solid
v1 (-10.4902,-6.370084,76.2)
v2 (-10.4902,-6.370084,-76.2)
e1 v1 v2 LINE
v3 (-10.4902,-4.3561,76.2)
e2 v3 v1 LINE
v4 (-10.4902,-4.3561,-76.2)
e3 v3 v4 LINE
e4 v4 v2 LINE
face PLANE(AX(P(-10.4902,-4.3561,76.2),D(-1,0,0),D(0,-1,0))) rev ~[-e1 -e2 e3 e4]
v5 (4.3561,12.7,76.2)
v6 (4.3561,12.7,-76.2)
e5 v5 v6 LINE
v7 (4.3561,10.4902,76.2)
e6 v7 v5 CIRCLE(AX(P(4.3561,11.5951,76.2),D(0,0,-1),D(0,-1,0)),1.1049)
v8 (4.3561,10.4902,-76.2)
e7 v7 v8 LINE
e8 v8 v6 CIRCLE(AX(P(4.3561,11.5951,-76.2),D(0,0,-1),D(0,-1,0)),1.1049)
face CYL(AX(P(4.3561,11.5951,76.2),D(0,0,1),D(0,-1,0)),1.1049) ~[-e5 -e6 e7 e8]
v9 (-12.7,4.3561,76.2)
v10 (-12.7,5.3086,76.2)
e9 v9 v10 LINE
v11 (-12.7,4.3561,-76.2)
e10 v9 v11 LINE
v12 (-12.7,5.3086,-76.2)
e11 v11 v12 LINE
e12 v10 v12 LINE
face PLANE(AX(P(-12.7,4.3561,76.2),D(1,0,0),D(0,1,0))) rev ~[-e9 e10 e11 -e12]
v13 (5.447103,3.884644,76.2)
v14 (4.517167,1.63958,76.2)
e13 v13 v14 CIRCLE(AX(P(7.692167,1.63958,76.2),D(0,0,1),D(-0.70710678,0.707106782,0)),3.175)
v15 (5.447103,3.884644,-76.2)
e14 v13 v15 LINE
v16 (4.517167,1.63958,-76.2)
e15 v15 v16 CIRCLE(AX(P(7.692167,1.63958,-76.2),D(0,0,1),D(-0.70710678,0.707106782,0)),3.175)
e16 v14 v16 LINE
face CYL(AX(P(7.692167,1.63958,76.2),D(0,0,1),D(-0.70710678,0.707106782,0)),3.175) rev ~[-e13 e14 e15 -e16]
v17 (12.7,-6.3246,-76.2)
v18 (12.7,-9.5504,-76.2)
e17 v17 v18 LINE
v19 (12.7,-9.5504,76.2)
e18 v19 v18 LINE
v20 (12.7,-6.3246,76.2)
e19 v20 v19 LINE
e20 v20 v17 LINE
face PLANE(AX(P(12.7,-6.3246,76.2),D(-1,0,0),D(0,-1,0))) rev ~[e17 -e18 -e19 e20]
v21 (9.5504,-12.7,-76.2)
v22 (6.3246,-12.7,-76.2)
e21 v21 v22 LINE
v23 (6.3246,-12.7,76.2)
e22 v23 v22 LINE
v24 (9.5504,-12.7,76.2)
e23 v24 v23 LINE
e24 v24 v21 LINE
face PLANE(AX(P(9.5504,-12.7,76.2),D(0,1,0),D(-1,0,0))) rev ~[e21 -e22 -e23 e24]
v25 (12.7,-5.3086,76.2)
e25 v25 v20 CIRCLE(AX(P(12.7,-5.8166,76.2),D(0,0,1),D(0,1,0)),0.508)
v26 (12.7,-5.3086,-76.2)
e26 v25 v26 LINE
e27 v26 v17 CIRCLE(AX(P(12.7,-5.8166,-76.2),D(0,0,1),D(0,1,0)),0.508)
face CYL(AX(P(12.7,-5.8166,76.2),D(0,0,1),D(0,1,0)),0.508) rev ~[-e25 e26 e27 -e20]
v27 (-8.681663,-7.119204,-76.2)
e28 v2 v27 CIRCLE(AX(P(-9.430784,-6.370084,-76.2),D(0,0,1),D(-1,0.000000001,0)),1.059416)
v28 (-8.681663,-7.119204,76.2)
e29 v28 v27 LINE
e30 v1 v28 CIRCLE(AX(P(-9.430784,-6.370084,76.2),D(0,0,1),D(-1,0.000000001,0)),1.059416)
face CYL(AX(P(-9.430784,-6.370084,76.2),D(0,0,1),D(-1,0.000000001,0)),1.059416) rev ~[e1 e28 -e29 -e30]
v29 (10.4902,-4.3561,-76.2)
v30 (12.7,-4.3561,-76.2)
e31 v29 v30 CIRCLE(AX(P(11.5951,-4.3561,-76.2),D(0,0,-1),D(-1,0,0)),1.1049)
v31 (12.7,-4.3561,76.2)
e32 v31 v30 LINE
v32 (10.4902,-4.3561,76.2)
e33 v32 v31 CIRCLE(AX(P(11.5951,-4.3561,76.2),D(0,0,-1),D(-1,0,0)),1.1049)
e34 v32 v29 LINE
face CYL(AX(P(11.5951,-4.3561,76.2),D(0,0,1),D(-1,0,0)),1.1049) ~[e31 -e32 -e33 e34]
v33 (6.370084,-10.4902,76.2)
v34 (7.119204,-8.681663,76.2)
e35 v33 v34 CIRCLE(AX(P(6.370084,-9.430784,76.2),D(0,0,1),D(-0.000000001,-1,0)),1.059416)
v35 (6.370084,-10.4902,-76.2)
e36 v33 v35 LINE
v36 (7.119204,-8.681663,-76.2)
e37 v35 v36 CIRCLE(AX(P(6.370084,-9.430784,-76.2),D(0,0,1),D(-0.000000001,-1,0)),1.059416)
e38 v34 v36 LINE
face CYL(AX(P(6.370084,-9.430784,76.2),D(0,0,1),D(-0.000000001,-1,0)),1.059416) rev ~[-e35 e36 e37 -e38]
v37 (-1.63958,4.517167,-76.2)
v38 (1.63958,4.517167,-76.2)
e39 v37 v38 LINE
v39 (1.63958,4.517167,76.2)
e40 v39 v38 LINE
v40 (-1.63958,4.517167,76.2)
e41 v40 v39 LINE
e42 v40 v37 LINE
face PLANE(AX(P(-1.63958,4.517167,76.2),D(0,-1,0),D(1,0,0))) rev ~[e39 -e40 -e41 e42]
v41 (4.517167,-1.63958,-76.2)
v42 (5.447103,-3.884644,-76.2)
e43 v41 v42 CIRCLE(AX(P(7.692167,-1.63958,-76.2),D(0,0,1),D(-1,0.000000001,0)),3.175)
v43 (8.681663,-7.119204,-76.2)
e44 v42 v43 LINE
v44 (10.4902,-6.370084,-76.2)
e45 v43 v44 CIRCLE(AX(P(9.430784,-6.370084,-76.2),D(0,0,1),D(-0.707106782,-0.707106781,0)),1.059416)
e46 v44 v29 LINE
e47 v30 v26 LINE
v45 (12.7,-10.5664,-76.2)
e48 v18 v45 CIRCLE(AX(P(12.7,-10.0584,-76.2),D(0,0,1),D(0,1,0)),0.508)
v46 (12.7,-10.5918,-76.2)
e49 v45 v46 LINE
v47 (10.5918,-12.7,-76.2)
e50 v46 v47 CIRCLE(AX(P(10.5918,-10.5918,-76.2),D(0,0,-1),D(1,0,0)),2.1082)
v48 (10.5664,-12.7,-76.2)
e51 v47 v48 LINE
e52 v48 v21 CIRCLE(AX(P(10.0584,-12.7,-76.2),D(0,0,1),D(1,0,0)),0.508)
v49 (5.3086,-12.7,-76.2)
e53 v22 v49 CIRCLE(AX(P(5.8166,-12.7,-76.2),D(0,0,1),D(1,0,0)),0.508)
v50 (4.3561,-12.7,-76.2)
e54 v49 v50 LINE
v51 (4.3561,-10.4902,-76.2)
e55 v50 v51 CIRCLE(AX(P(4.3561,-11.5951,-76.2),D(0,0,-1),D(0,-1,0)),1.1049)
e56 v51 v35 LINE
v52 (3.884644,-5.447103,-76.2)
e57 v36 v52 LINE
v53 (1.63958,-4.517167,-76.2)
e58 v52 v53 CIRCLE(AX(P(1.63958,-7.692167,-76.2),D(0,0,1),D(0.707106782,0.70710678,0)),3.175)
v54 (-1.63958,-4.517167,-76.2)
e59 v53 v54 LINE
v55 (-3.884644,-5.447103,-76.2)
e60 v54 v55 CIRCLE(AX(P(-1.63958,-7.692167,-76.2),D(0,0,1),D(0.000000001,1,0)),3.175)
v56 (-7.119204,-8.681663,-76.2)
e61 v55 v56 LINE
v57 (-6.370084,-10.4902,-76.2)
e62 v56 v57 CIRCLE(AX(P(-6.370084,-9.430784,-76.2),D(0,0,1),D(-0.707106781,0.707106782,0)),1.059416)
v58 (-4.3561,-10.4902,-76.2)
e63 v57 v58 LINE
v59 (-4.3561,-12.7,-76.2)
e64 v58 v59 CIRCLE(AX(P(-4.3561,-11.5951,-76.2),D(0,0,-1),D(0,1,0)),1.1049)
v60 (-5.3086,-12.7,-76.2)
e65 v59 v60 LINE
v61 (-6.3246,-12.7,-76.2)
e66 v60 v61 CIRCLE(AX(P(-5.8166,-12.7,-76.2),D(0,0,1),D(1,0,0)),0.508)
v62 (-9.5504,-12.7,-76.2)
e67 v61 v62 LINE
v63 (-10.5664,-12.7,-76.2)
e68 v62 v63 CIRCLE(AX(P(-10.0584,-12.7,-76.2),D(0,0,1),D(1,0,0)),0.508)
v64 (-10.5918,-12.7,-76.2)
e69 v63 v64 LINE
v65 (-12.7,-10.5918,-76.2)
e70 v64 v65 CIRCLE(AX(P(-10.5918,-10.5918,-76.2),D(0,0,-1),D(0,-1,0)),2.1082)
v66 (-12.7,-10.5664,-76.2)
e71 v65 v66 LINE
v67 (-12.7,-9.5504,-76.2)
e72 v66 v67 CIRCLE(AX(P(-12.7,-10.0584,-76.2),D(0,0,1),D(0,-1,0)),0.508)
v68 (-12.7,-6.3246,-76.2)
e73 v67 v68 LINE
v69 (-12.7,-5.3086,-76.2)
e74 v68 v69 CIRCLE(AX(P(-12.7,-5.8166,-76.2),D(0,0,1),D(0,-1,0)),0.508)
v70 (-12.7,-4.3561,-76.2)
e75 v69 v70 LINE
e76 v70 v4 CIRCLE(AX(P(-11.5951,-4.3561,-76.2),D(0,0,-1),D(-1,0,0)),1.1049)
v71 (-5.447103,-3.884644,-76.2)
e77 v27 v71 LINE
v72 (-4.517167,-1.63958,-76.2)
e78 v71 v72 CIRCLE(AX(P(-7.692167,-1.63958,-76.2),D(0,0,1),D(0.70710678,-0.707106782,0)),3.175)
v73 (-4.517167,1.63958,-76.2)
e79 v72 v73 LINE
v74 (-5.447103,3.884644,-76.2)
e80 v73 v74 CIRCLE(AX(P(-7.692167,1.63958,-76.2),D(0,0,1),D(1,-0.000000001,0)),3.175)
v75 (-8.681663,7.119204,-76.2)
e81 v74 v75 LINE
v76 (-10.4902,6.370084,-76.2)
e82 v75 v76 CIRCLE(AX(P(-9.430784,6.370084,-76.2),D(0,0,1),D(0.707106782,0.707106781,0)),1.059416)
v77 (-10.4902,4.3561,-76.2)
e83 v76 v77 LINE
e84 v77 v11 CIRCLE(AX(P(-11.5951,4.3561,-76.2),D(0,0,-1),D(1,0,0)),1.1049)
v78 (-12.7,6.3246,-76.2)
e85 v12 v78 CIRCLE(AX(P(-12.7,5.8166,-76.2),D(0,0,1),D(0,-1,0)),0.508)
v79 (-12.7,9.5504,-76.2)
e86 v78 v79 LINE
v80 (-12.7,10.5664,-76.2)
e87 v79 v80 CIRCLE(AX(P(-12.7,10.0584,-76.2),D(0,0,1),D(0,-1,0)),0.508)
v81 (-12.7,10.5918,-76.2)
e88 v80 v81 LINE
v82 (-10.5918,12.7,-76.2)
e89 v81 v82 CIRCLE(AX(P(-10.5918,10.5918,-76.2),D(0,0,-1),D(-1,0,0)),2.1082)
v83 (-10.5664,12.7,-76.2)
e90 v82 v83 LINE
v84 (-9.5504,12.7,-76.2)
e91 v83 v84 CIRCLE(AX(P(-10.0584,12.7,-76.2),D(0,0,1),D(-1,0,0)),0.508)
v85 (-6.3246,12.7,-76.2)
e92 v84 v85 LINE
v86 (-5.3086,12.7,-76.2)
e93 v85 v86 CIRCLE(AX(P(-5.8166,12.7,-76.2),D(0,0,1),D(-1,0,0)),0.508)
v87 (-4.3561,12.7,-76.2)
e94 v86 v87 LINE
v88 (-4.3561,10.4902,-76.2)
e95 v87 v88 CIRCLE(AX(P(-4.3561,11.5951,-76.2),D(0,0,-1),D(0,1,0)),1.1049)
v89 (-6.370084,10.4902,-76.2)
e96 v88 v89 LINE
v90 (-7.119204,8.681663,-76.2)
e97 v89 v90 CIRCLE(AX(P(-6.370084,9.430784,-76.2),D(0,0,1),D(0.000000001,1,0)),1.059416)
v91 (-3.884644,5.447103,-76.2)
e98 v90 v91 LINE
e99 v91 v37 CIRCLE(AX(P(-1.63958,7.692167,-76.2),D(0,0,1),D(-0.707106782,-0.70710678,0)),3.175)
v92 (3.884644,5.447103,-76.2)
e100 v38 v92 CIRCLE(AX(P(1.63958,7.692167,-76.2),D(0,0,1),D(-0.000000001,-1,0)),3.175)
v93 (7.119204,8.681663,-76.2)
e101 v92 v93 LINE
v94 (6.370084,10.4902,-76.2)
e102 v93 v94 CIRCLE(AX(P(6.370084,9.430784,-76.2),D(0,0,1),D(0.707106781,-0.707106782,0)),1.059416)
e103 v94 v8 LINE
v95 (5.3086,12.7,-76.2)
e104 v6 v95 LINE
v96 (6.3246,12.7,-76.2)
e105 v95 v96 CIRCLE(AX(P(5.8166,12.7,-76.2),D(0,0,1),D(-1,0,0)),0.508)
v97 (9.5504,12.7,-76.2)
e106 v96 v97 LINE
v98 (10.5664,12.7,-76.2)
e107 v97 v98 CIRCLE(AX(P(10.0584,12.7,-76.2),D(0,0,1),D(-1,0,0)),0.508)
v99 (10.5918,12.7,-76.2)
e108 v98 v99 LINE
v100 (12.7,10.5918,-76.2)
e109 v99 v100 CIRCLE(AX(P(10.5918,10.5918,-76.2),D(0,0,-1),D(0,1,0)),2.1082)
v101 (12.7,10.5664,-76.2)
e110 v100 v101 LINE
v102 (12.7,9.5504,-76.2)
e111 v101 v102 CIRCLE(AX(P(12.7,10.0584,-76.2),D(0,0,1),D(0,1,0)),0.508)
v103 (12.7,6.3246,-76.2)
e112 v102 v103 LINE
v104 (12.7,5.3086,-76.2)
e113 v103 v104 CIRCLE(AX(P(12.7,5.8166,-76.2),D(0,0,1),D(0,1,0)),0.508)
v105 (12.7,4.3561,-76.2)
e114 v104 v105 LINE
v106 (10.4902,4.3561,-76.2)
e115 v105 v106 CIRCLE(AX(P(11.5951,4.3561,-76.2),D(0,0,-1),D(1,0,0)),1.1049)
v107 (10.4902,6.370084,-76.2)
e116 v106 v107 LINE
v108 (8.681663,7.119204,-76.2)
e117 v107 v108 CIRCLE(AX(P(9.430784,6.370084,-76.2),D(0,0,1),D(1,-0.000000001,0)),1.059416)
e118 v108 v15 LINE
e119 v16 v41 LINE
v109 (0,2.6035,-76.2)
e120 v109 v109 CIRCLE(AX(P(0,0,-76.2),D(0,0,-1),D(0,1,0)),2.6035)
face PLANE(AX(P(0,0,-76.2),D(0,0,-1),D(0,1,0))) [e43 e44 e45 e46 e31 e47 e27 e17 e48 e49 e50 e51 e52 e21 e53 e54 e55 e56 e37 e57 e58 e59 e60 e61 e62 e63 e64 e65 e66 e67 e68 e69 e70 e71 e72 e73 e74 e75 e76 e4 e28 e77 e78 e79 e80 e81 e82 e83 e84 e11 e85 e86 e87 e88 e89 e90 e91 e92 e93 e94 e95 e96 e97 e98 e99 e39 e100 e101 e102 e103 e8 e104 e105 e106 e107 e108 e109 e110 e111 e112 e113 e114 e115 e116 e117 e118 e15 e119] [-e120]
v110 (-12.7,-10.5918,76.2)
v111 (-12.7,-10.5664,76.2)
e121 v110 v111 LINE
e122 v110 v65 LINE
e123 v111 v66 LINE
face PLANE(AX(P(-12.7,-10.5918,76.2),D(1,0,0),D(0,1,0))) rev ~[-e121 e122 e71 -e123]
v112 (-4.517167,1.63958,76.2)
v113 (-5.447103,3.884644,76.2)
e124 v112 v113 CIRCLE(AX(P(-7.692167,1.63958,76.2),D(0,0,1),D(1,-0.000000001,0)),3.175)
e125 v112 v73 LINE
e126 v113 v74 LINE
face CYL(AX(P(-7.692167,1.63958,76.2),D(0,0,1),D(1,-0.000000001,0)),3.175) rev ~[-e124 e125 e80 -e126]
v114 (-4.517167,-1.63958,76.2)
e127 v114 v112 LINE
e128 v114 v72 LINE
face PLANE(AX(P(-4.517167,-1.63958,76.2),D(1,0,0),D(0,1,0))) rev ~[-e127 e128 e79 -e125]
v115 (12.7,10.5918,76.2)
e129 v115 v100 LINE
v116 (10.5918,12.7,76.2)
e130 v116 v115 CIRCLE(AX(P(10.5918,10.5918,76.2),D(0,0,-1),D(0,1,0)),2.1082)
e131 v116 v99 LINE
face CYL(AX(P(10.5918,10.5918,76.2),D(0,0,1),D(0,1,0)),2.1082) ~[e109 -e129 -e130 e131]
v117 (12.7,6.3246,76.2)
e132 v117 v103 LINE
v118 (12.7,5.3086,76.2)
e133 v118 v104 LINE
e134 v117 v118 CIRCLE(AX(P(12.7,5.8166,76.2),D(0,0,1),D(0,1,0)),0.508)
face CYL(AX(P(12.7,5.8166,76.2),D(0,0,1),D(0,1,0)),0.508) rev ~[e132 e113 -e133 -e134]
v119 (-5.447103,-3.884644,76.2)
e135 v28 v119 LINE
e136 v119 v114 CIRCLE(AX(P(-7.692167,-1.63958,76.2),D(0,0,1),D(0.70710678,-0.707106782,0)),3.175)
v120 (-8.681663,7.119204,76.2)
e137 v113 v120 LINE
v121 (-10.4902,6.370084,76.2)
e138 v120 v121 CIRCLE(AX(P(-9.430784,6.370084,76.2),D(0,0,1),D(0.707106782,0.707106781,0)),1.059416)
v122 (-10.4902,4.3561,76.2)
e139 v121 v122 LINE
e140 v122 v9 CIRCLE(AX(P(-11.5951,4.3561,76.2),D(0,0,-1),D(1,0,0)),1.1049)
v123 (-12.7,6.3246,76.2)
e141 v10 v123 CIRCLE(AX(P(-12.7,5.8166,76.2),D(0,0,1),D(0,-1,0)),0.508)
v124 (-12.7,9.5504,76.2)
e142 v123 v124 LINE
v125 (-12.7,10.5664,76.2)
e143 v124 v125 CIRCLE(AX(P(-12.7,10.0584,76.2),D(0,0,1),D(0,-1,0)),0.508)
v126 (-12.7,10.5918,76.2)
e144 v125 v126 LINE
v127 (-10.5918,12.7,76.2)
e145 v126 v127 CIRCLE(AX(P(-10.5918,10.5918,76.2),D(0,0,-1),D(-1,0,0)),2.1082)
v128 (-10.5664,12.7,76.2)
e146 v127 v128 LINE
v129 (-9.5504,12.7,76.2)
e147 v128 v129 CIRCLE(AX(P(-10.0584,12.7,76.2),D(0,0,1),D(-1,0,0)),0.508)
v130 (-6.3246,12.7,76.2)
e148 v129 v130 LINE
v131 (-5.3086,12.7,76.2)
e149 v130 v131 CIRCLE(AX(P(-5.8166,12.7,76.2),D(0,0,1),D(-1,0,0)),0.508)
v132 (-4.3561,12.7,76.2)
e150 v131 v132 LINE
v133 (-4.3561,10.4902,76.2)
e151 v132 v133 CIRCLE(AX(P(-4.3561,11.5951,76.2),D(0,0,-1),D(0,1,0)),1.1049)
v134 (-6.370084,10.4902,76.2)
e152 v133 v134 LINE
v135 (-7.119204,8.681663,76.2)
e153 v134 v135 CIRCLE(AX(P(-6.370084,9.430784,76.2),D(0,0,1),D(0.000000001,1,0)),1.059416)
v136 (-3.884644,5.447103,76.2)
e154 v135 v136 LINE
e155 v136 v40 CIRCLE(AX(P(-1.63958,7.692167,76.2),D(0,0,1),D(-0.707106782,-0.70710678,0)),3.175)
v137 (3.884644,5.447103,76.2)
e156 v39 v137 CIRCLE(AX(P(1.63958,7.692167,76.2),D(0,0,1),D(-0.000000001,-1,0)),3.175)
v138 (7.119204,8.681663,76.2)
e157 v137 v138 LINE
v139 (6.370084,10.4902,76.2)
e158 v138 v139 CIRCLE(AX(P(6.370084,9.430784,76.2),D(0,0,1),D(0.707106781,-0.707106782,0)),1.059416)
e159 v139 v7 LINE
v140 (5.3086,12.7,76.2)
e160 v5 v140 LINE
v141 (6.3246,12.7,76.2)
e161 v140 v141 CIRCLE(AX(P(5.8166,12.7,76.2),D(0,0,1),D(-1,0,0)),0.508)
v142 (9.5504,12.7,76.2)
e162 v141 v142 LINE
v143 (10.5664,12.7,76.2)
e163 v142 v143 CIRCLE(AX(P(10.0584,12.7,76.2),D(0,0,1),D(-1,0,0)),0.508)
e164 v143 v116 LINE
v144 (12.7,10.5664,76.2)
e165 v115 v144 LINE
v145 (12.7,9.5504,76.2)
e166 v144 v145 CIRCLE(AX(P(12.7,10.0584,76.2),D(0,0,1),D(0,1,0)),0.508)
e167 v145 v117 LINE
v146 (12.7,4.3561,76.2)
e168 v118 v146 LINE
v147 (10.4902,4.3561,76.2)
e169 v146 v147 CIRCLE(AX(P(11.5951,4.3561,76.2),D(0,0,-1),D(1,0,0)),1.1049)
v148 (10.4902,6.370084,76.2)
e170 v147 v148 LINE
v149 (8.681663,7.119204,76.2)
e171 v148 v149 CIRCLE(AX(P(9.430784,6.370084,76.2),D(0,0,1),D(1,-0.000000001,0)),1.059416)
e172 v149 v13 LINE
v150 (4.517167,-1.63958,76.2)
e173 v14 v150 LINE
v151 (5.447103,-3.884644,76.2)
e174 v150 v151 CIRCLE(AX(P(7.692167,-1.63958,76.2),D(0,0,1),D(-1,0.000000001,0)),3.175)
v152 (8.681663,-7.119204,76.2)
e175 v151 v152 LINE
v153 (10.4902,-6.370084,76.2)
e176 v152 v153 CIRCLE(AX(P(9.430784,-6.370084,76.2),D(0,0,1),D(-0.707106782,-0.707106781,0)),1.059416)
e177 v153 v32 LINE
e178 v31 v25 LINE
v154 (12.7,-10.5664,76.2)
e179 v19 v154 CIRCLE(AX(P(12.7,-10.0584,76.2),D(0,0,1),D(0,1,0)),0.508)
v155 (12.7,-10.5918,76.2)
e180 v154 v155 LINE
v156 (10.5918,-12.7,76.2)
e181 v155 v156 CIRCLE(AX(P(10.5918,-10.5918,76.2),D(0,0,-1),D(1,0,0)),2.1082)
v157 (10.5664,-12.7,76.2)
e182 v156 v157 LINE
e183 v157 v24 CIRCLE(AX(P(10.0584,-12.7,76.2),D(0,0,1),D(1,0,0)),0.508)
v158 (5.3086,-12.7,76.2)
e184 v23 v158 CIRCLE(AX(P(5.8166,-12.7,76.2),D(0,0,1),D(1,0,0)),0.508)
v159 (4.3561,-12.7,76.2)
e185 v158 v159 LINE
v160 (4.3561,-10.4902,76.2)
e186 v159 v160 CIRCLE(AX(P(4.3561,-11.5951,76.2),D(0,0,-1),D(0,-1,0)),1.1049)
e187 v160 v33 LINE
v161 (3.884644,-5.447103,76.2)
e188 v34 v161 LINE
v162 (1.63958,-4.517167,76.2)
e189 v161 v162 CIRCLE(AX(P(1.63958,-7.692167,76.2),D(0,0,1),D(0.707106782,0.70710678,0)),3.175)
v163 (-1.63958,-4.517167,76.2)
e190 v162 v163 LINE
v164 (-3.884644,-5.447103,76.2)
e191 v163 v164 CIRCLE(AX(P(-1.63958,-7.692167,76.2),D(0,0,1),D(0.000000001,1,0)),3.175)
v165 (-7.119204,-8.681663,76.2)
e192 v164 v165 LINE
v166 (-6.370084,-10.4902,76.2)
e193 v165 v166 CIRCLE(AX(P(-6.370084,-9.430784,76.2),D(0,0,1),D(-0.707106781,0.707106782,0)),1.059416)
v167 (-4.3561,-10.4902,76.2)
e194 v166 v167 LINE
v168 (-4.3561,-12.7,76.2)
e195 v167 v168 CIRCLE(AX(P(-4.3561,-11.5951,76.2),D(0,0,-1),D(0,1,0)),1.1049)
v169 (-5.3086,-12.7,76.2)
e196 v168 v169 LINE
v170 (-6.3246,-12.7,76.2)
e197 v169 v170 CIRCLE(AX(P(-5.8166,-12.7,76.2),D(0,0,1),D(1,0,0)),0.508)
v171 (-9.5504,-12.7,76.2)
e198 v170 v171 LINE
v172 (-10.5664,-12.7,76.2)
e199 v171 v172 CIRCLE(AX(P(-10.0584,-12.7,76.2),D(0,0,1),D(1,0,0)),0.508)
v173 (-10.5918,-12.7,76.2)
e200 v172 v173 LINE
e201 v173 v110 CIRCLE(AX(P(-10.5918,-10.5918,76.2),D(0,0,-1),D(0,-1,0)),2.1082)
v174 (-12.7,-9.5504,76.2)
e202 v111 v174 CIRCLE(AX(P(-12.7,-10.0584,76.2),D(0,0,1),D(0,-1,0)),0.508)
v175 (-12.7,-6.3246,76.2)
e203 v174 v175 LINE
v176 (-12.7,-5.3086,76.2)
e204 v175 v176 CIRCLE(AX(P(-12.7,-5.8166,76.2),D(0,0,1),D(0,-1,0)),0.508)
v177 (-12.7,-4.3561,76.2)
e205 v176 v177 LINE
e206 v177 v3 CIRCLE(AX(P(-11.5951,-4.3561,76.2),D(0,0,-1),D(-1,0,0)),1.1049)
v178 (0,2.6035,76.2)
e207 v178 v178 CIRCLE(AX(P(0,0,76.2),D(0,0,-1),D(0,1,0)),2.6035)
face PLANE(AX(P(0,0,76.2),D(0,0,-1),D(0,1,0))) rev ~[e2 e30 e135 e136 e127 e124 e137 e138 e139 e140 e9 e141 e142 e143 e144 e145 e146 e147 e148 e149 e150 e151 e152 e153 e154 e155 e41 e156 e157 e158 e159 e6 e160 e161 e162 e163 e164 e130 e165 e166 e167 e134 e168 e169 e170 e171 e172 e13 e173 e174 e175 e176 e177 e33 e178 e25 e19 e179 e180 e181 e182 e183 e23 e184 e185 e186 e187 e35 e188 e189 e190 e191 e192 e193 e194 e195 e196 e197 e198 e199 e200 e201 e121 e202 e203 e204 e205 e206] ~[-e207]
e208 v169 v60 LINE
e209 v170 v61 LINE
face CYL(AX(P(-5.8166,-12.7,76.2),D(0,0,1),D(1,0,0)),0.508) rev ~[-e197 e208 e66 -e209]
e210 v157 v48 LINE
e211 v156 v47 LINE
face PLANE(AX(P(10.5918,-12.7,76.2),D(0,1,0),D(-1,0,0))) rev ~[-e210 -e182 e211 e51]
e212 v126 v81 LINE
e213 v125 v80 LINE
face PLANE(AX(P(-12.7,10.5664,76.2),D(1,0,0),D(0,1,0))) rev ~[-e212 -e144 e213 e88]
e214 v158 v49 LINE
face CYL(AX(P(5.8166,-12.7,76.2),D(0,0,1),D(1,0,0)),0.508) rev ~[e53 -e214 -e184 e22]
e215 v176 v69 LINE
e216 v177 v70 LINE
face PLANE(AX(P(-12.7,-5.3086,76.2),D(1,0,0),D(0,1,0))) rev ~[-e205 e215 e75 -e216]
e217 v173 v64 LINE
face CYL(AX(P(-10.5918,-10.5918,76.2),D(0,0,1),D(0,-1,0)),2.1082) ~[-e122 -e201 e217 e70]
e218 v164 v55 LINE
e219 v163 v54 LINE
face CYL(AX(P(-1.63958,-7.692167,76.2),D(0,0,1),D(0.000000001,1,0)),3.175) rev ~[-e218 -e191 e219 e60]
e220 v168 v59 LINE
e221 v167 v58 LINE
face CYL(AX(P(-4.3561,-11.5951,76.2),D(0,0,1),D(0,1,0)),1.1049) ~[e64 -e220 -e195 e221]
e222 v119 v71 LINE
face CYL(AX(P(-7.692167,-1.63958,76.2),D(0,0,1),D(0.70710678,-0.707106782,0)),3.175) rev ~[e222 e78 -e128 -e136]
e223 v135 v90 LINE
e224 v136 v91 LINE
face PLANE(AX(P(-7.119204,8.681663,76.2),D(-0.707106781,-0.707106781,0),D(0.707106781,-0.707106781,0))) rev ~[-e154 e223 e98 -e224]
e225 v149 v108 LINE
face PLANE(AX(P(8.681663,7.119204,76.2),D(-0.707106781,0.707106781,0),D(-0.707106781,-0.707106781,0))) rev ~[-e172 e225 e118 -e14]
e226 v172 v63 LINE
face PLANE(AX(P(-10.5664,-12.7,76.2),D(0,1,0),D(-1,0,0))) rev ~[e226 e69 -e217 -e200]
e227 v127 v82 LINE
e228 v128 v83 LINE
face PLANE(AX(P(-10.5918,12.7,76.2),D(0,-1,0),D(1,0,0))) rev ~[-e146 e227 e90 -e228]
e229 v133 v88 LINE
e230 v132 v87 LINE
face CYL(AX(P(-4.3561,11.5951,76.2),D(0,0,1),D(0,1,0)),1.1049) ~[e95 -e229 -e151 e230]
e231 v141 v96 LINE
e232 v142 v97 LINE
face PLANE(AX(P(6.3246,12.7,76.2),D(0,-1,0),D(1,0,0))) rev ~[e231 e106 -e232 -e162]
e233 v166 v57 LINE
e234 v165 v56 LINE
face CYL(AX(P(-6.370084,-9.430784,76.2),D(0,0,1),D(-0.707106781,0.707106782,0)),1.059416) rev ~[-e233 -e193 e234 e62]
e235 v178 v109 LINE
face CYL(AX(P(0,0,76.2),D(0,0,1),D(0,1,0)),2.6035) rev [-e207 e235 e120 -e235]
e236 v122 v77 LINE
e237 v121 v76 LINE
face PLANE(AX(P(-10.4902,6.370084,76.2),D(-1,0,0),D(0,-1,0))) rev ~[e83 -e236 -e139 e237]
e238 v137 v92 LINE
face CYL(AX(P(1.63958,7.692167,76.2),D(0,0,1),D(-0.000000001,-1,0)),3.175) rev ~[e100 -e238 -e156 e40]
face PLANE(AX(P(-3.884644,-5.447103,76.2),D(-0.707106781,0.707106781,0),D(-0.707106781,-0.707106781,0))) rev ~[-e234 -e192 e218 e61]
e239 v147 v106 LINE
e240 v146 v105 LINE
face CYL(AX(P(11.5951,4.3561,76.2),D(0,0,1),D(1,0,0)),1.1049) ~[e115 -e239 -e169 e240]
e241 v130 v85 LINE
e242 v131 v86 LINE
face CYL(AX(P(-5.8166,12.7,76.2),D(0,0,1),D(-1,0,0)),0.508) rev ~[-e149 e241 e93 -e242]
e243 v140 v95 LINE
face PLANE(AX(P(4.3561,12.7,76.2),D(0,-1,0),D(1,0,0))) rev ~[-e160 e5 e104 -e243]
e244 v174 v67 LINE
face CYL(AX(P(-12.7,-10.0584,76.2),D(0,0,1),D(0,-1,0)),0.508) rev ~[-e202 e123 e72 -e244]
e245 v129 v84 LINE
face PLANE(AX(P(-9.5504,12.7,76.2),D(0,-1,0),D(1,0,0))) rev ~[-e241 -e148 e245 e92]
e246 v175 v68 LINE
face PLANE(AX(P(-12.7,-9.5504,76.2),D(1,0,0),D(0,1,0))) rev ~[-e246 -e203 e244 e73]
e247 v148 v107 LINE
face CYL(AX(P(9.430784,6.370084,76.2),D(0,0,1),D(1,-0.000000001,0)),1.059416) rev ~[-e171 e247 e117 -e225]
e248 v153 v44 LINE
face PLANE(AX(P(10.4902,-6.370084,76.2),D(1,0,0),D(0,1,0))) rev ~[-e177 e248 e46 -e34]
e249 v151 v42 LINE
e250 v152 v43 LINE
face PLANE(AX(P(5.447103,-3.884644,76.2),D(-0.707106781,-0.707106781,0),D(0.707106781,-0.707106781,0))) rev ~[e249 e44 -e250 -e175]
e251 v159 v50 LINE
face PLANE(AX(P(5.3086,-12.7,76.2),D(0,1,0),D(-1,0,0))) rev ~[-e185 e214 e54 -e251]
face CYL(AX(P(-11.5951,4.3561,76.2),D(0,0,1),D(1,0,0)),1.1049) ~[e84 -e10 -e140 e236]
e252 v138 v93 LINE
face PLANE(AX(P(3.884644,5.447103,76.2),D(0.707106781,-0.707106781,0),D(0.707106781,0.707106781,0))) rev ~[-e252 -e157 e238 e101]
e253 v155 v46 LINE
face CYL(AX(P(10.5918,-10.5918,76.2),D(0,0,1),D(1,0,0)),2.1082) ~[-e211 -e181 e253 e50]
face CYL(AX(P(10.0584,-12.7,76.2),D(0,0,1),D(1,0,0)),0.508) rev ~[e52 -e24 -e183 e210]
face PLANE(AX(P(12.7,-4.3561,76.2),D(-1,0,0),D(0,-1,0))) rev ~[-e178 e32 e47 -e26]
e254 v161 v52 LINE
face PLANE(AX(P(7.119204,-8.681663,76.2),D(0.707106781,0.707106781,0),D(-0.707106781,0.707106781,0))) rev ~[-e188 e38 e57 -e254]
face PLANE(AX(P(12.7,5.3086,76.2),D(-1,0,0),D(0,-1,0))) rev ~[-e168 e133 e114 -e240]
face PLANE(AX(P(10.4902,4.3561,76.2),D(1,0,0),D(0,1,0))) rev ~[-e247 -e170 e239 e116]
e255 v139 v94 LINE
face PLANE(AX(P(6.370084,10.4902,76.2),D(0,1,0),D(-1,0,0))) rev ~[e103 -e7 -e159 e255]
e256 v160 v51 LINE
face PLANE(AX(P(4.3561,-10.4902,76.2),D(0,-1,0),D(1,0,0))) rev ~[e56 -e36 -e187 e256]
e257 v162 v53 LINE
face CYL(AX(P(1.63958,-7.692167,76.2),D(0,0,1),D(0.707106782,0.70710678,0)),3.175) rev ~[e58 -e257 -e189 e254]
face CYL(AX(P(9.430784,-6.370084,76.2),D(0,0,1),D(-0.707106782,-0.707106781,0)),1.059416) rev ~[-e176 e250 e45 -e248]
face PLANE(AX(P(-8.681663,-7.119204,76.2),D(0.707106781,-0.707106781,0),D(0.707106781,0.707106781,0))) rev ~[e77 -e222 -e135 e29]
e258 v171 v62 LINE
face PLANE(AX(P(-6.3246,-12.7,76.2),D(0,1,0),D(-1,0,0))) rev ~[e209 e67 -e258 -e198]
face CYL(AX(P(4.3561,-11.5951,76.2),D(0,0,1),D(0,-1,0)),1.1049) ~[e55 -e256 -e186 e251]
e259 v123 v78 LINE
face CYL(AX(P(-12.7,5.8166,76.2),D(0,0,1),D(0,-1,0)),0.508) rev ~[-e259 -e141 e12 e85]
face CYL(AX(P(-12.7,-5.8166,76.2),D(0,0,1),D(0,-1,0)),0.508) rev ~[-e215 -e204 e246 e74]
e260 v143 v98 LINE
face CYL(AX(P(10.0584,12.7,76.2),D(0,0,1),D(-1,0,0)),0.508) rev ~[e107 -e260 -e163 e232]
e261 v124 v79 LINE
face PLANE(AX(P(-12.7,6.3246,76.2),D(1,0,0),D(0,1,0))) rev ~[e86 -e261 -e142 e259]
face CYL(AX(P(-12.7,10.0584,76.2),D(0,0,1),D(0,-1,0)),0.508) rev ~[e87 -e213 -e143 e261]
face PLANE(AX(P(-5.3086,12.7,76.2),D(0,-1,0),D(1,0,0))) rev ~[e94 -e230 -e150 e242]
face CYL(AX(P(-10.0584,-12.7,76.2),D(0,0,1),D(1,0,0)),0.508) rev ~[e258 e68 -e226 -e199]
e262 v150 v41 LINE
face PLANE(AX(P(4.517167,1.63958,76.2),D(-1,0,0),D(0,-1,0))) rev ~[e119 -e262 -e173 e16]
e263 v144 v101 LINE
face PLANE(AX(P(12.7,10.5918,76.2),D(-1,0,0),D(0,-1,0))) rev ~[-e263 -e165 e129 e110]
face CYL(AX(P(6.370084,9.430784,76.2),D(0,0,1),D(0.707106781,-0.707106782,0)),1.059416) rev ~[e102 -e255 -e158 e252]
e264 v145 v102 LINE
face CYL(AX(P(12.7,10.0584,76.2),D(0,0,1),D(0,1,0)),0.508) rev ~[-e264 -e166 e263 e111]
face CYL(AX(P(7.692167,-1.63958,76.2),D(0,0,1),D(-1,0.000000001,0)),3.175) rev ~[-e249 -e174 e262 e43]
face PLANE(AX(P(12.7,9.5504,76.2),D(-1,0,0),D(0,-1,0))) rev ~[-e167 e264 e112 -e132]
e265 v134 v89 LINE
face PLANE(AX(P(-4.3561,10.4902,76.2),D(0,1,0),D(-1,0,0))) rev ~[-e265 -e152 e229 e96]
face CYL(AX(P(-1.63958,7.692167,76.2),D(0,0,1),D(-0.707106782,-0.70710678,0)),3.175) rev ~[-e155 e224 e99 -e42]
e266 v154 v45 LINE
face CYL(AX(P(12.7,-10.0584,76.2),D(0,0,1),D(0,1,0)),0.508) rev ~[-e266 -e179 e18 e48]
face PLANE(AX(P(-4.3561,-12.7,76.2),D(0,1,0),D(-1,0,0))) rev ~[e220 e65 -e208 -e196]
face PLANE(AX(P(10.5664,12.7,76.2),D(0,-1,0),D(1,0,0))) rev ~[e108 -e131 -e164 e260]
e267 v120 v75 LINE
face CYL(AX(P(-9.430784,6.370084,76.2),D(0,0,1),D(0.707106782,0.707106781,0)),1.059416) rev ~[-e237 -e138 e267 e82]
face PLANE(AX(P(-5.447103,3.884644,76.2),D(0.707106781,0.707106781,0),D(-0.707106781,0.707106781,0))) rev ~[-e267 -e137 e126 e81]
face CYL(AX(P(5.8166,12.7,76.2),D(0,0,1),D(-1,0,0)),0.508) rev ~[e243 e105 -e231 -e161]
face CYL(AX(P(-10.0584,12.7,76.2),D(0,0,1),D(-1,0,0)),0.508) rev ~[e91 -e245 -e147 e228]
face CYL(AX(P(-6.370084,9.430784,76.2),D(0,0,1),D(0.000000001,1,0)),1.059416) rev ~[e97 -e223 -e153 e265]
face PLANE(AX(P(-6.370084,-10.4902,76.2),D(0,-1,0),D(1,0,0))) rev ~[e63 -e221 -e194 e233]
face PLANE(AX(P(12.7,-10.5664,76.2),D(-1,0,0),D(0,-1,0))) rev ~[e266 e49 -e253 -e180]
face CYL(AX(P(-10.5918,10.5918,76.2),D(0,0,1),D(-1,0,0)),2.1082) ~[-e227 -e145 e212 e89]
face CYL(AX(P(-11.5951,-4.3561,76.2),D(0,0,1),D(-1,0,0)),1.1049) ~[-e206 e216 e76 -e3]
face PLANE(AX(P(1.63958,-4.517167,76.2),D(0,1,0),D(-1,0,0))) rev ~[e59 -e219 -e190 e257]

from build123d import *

# Parameters (mm, degrees)
SKETCH11_R              = 2.6035
FRACTIONAL_1010_1_DEPTH = 152.4


with BuildPart() as part:
    # Sketch11 → Fractional 1010(1) (new body)
    with BuildSketch(Plane.YX.offset(-76.2)):
        with BuildLine():
            Line((10.5918, 12.7), (10.5664, 12.7))
            ThreePointArc((10.5664, 12.7), (10.0584, 12.192), (9.5504, 12.7))
            Line((9.5504, 12.7), (6.3246, 12.7))
            ThreePointArc((6.3246, 12.7), (5.8166, 12.192), (5.3086, 12.7))
            Line((5.3086, 12.7), (4.3561, 12.7))
            ThreePointArc((4.3561, 12.7), (3.2512, 11.5951), (4.3561, 10.4902))
            Line((4.3561, 10.4902), (6.370083786, 10.4902))
            ThreePointArc((6.370083786, 10.4902), (7.348856743, 9.836204819), (7.119204175, 8.681663397))
            Line((7.119204175, 8.681663397), (3.88464389, 5.447103113))
            ThreePointArc((3.88464389, 5.447103113), (2.854599758, 4.758849627), (1.63957986, 4.517167143))
            Line((1.63957986, 4.517167143), (-1.63957986, 4.517167143))
            ThreePointArc((-1.63957986, 4.517167143), (-2.854599758, 4.758849627), (-3.88464389, 5.447103113))
            Line((-3.88464389, 5.447103113), (-7.119204175, 8.681663397))
            ThreePointArc((-7.119204175, 8.681663397), (-7.348856743, 9.836204819), (-6.370083786, 10.4902))
            Line((-6.370083786, 10.4902), (-4.3561, 10.4902))
            ThreePointArc((-4.3561, 10.4902), (-3.2512, 11.5951), (-4.3561, 12.7))
            Line((-4.3561, 12.7), (-5.3086, 12.7))
            ThreePointArc((-5.3086, 12.7), (-5.8166, 12.192), (-6.3246, 12.7))
            Line((-6.3246, 12.7), (-9.5504, 12.7))
            ThreePointArc((-9.5504, 12.7), (-10.0584, 12.192), (-10.5664, 12.7))
            Line((-10.5664, 12.7), (-10.5918, 12.7))
            ThreePointArc((-10.5918, 12.7), (-12.082522516, 12.082522516), (-12.7, 10.5918))
            Line((-12.7, 10.5918), (-12.7, 10.5664))
            ThreePointArc((-12.7, 10.5664), (-12.192, 10.0584), (-12.7, 9.5504))
            Line((-12.7, 9.5504), (-12.7, 6.3246))
            ThreePointArc((-12.7, 6.3246), (-12.192, 5.8166), (-12.7, 5.3086))
            Line((-12.7, 5.3086), (-12.7, 4.3561))
            ThreePointArc((-12.7, 4.3561), (-11.5951, 3.2512), (-10.4902, 4.3561))
            Line((-10.4902, 4.3561), (-10.4902, 6.370083786))
            ThreePointArc((-10.4902, 6.370083786), (-9.836204819, 7.348856743), (-8.681663397, 7.119204175))
            Line((-8.681663397, 7.119204175), (-5.447103113, 3.88464389))
            ThreePointArc((-5.447103113, 3.88464389), (-4.758849627, 2.854599758), (-4.517167143, 1.63957986))
            Line((-4.517167143, 1.63957986), (-4.517167143, -1.63957986))
            ThreePointArc((-4.517167143, -1.63957986), (-4.758849627, -2.854599758), (-5.447103113, -3.88464389))
            Line((-5.447103113, -3.88464389), (-8.681663397, -7.119204175))
            ThreePointArc((-8.681663397, -7.119204175), (-9.836204819, -7.348856743), (-10.4902, -6.370083786))
            Line((-10.4902, -6.370083786), (-10.4902, -4.3561))
            ThreePointArc((-10.4902, -4.3561), (-11.5951, -3.2512), (-12.7, -4.3561))
            Line((-12.7, -4.3561), (-12.7, -5.3086))
            ThreePointArc((-12.7, -5.3086), (-12.192, -5.8166), (-12.7, -6.3246))
            Line((-12.7, -6.3246), (-12.7, -9.5504))
            ThreePointArc((-12.7, -9.5504), (-12.192, -10.0584), (-12.7, -10.5664))
            Line((-12.7, -10.5664), (-12.7, -10.5918))
            ThreePointArc((-12.7, -10.5918), (-12.082522516, -12.082522516), (-10.5918, -12.7))
            Line((-10.5918, -12.7), (-10.5664, -12.7))
            ThreePointArc((-10.5664, -12.7), (-10.0584, -12.192), (-9.5504, -12.7))
            Line((-9.5504, -12.7), (-6.3246, -12.7))
            ThreePointArc((-6.3246, -12.7), (-5.8166, -12.192), (-5.3086, -12.7))
            Line((-5.3086, -12.7), (-4.3561, -12.7))
            ThreePointArc((-4.3561, -12.7), (-3.2512, -11.5951), (-4.3561, -10.4902))
            Line((-4.3561, -10.4902), (-6.370083786, -10.4902))
            ThreePointArc((-6.370083786, -10.4902), (-7.348856743, -9.836204819), (-7.119204175, -8.681663397))
            Line((-7.119204175, -8.681663397), (-3.88464389, -5.447103113))
            ThreePointArc((-3.88464389, -5.447103113), (-2.854599758, -4.758849627), (-1.63957986, -4.517167143))
            Line((-1.63957986, -4.517167143), (1.63957986, -4.517167143))
            ThreePointArc((1.63957986, -4.517167143), (2.854599758, -4.758849627), (3.88464389, -5.447103113))
            Line((3.88464389, -5.447103113), (7.119204175, -8.681663397))
            ThreePointArc((7.119204175, -8.681663397), (7.348856743, -9.836204819), (6.370083786, -10.4902))
            Line((6.370083786, -10.4902), (4.3561, -10.4902))
            ThreePointArc((4.3561, -10.4902), (3.2512, -11.5951), (4.3561, -12.7))
            Line((4.3561, -12.7), (5.3086, -12.7))
            ThreePointArc((5.3086, -12.7), (5.8166, -12.192), (6.3246, -12.7))
            Line((6.3246, -12.7), (9.5504, -12.7))
            ThreePointArc((9.5504, -12.7), (10.0584, -12.192), (10.5664, -12.7))
            Line((10.5664, -12.7), (10.5918, -12.7))
            ThreePointArc((10.5918, -12.7), (12.082522516, -12.082522516), (12.7, -10.5918))
            Line((12.7, -10.5918), (12.7, -10.5664))
            ThreePointArc((12.7, -10.5664), (12.192, -10.0584), (12.7, -9.5504))
            Line((12.7, -9.5504), (12.7, -6.3246))
            ThreePointArc((12.7, -6.3246), (12.192, -5.8166), (12.7, -5.3086))
            Line((12.7, -5.3086), (12.7, -4.3561))
            ThreePointArc((12.7, -4.3561), (11.5951, -3.2512), (10.4902, -4.3561))
            Line((10.4902, -4.3561), (10.4902, -6.370083786))
            ThreePointArc((10.4902, -6.370083786), (9.836204819, -7.348856743), (8.681663397, -7.119204175))
            Line((8.681663397, -7.119204175), (5.447103113, -3.88464389))
            ThreePointArc((5.447103113, -3.88464389), (4.758849627, -2.854599758), (4.517167143, -1.63957986))
            Line((4.517167143, -1.63957986), (4.517167143, 1.63957986))
            ThreePointArc((4.517167143, 1.63957986), (4.758849627, 2.854599758), (5.447103113, 3.88464389))
            Line((5.447103113, 3.88464389), (8.681663397, 7.119204175))
            ThreePointArc((8.681663397, 7.119204175), (9.836204819, 7.348856743), (10.4902, 6.370083786))
            Line((10.4902, 6.370083786), (10.4902, 4.3561))
            ThreePointArc((10.4902, 4.3561), (11.5951, 3.2512), (12.7, 4.3561))
            Line((12.7, 4.3561), (12.7, 5.3086))
            ThreePointArc((12.7, 5.3086), (12.192, 5.8166), (12.7, 6.3246))
            Line((12.7, 6.3246), (12.7, 9.5504))
            ThreePointArc((12.7, 9.5504), (12.192, 10.0584), (12.7, 10.5664))
            Line((12.7, 10.5664), (12.7, 10.5918))
            ThreePointArc((12.7, 10.5918), (12.082522516, 12.082522516), (10.5918, 12.7))
        make_face()
        Circle(SKETCH11_R, mode=Mode.SUBTRACT)
    extrude(amount=FRACTIONAL_1010_1_DEPTH)


solid = part.part
